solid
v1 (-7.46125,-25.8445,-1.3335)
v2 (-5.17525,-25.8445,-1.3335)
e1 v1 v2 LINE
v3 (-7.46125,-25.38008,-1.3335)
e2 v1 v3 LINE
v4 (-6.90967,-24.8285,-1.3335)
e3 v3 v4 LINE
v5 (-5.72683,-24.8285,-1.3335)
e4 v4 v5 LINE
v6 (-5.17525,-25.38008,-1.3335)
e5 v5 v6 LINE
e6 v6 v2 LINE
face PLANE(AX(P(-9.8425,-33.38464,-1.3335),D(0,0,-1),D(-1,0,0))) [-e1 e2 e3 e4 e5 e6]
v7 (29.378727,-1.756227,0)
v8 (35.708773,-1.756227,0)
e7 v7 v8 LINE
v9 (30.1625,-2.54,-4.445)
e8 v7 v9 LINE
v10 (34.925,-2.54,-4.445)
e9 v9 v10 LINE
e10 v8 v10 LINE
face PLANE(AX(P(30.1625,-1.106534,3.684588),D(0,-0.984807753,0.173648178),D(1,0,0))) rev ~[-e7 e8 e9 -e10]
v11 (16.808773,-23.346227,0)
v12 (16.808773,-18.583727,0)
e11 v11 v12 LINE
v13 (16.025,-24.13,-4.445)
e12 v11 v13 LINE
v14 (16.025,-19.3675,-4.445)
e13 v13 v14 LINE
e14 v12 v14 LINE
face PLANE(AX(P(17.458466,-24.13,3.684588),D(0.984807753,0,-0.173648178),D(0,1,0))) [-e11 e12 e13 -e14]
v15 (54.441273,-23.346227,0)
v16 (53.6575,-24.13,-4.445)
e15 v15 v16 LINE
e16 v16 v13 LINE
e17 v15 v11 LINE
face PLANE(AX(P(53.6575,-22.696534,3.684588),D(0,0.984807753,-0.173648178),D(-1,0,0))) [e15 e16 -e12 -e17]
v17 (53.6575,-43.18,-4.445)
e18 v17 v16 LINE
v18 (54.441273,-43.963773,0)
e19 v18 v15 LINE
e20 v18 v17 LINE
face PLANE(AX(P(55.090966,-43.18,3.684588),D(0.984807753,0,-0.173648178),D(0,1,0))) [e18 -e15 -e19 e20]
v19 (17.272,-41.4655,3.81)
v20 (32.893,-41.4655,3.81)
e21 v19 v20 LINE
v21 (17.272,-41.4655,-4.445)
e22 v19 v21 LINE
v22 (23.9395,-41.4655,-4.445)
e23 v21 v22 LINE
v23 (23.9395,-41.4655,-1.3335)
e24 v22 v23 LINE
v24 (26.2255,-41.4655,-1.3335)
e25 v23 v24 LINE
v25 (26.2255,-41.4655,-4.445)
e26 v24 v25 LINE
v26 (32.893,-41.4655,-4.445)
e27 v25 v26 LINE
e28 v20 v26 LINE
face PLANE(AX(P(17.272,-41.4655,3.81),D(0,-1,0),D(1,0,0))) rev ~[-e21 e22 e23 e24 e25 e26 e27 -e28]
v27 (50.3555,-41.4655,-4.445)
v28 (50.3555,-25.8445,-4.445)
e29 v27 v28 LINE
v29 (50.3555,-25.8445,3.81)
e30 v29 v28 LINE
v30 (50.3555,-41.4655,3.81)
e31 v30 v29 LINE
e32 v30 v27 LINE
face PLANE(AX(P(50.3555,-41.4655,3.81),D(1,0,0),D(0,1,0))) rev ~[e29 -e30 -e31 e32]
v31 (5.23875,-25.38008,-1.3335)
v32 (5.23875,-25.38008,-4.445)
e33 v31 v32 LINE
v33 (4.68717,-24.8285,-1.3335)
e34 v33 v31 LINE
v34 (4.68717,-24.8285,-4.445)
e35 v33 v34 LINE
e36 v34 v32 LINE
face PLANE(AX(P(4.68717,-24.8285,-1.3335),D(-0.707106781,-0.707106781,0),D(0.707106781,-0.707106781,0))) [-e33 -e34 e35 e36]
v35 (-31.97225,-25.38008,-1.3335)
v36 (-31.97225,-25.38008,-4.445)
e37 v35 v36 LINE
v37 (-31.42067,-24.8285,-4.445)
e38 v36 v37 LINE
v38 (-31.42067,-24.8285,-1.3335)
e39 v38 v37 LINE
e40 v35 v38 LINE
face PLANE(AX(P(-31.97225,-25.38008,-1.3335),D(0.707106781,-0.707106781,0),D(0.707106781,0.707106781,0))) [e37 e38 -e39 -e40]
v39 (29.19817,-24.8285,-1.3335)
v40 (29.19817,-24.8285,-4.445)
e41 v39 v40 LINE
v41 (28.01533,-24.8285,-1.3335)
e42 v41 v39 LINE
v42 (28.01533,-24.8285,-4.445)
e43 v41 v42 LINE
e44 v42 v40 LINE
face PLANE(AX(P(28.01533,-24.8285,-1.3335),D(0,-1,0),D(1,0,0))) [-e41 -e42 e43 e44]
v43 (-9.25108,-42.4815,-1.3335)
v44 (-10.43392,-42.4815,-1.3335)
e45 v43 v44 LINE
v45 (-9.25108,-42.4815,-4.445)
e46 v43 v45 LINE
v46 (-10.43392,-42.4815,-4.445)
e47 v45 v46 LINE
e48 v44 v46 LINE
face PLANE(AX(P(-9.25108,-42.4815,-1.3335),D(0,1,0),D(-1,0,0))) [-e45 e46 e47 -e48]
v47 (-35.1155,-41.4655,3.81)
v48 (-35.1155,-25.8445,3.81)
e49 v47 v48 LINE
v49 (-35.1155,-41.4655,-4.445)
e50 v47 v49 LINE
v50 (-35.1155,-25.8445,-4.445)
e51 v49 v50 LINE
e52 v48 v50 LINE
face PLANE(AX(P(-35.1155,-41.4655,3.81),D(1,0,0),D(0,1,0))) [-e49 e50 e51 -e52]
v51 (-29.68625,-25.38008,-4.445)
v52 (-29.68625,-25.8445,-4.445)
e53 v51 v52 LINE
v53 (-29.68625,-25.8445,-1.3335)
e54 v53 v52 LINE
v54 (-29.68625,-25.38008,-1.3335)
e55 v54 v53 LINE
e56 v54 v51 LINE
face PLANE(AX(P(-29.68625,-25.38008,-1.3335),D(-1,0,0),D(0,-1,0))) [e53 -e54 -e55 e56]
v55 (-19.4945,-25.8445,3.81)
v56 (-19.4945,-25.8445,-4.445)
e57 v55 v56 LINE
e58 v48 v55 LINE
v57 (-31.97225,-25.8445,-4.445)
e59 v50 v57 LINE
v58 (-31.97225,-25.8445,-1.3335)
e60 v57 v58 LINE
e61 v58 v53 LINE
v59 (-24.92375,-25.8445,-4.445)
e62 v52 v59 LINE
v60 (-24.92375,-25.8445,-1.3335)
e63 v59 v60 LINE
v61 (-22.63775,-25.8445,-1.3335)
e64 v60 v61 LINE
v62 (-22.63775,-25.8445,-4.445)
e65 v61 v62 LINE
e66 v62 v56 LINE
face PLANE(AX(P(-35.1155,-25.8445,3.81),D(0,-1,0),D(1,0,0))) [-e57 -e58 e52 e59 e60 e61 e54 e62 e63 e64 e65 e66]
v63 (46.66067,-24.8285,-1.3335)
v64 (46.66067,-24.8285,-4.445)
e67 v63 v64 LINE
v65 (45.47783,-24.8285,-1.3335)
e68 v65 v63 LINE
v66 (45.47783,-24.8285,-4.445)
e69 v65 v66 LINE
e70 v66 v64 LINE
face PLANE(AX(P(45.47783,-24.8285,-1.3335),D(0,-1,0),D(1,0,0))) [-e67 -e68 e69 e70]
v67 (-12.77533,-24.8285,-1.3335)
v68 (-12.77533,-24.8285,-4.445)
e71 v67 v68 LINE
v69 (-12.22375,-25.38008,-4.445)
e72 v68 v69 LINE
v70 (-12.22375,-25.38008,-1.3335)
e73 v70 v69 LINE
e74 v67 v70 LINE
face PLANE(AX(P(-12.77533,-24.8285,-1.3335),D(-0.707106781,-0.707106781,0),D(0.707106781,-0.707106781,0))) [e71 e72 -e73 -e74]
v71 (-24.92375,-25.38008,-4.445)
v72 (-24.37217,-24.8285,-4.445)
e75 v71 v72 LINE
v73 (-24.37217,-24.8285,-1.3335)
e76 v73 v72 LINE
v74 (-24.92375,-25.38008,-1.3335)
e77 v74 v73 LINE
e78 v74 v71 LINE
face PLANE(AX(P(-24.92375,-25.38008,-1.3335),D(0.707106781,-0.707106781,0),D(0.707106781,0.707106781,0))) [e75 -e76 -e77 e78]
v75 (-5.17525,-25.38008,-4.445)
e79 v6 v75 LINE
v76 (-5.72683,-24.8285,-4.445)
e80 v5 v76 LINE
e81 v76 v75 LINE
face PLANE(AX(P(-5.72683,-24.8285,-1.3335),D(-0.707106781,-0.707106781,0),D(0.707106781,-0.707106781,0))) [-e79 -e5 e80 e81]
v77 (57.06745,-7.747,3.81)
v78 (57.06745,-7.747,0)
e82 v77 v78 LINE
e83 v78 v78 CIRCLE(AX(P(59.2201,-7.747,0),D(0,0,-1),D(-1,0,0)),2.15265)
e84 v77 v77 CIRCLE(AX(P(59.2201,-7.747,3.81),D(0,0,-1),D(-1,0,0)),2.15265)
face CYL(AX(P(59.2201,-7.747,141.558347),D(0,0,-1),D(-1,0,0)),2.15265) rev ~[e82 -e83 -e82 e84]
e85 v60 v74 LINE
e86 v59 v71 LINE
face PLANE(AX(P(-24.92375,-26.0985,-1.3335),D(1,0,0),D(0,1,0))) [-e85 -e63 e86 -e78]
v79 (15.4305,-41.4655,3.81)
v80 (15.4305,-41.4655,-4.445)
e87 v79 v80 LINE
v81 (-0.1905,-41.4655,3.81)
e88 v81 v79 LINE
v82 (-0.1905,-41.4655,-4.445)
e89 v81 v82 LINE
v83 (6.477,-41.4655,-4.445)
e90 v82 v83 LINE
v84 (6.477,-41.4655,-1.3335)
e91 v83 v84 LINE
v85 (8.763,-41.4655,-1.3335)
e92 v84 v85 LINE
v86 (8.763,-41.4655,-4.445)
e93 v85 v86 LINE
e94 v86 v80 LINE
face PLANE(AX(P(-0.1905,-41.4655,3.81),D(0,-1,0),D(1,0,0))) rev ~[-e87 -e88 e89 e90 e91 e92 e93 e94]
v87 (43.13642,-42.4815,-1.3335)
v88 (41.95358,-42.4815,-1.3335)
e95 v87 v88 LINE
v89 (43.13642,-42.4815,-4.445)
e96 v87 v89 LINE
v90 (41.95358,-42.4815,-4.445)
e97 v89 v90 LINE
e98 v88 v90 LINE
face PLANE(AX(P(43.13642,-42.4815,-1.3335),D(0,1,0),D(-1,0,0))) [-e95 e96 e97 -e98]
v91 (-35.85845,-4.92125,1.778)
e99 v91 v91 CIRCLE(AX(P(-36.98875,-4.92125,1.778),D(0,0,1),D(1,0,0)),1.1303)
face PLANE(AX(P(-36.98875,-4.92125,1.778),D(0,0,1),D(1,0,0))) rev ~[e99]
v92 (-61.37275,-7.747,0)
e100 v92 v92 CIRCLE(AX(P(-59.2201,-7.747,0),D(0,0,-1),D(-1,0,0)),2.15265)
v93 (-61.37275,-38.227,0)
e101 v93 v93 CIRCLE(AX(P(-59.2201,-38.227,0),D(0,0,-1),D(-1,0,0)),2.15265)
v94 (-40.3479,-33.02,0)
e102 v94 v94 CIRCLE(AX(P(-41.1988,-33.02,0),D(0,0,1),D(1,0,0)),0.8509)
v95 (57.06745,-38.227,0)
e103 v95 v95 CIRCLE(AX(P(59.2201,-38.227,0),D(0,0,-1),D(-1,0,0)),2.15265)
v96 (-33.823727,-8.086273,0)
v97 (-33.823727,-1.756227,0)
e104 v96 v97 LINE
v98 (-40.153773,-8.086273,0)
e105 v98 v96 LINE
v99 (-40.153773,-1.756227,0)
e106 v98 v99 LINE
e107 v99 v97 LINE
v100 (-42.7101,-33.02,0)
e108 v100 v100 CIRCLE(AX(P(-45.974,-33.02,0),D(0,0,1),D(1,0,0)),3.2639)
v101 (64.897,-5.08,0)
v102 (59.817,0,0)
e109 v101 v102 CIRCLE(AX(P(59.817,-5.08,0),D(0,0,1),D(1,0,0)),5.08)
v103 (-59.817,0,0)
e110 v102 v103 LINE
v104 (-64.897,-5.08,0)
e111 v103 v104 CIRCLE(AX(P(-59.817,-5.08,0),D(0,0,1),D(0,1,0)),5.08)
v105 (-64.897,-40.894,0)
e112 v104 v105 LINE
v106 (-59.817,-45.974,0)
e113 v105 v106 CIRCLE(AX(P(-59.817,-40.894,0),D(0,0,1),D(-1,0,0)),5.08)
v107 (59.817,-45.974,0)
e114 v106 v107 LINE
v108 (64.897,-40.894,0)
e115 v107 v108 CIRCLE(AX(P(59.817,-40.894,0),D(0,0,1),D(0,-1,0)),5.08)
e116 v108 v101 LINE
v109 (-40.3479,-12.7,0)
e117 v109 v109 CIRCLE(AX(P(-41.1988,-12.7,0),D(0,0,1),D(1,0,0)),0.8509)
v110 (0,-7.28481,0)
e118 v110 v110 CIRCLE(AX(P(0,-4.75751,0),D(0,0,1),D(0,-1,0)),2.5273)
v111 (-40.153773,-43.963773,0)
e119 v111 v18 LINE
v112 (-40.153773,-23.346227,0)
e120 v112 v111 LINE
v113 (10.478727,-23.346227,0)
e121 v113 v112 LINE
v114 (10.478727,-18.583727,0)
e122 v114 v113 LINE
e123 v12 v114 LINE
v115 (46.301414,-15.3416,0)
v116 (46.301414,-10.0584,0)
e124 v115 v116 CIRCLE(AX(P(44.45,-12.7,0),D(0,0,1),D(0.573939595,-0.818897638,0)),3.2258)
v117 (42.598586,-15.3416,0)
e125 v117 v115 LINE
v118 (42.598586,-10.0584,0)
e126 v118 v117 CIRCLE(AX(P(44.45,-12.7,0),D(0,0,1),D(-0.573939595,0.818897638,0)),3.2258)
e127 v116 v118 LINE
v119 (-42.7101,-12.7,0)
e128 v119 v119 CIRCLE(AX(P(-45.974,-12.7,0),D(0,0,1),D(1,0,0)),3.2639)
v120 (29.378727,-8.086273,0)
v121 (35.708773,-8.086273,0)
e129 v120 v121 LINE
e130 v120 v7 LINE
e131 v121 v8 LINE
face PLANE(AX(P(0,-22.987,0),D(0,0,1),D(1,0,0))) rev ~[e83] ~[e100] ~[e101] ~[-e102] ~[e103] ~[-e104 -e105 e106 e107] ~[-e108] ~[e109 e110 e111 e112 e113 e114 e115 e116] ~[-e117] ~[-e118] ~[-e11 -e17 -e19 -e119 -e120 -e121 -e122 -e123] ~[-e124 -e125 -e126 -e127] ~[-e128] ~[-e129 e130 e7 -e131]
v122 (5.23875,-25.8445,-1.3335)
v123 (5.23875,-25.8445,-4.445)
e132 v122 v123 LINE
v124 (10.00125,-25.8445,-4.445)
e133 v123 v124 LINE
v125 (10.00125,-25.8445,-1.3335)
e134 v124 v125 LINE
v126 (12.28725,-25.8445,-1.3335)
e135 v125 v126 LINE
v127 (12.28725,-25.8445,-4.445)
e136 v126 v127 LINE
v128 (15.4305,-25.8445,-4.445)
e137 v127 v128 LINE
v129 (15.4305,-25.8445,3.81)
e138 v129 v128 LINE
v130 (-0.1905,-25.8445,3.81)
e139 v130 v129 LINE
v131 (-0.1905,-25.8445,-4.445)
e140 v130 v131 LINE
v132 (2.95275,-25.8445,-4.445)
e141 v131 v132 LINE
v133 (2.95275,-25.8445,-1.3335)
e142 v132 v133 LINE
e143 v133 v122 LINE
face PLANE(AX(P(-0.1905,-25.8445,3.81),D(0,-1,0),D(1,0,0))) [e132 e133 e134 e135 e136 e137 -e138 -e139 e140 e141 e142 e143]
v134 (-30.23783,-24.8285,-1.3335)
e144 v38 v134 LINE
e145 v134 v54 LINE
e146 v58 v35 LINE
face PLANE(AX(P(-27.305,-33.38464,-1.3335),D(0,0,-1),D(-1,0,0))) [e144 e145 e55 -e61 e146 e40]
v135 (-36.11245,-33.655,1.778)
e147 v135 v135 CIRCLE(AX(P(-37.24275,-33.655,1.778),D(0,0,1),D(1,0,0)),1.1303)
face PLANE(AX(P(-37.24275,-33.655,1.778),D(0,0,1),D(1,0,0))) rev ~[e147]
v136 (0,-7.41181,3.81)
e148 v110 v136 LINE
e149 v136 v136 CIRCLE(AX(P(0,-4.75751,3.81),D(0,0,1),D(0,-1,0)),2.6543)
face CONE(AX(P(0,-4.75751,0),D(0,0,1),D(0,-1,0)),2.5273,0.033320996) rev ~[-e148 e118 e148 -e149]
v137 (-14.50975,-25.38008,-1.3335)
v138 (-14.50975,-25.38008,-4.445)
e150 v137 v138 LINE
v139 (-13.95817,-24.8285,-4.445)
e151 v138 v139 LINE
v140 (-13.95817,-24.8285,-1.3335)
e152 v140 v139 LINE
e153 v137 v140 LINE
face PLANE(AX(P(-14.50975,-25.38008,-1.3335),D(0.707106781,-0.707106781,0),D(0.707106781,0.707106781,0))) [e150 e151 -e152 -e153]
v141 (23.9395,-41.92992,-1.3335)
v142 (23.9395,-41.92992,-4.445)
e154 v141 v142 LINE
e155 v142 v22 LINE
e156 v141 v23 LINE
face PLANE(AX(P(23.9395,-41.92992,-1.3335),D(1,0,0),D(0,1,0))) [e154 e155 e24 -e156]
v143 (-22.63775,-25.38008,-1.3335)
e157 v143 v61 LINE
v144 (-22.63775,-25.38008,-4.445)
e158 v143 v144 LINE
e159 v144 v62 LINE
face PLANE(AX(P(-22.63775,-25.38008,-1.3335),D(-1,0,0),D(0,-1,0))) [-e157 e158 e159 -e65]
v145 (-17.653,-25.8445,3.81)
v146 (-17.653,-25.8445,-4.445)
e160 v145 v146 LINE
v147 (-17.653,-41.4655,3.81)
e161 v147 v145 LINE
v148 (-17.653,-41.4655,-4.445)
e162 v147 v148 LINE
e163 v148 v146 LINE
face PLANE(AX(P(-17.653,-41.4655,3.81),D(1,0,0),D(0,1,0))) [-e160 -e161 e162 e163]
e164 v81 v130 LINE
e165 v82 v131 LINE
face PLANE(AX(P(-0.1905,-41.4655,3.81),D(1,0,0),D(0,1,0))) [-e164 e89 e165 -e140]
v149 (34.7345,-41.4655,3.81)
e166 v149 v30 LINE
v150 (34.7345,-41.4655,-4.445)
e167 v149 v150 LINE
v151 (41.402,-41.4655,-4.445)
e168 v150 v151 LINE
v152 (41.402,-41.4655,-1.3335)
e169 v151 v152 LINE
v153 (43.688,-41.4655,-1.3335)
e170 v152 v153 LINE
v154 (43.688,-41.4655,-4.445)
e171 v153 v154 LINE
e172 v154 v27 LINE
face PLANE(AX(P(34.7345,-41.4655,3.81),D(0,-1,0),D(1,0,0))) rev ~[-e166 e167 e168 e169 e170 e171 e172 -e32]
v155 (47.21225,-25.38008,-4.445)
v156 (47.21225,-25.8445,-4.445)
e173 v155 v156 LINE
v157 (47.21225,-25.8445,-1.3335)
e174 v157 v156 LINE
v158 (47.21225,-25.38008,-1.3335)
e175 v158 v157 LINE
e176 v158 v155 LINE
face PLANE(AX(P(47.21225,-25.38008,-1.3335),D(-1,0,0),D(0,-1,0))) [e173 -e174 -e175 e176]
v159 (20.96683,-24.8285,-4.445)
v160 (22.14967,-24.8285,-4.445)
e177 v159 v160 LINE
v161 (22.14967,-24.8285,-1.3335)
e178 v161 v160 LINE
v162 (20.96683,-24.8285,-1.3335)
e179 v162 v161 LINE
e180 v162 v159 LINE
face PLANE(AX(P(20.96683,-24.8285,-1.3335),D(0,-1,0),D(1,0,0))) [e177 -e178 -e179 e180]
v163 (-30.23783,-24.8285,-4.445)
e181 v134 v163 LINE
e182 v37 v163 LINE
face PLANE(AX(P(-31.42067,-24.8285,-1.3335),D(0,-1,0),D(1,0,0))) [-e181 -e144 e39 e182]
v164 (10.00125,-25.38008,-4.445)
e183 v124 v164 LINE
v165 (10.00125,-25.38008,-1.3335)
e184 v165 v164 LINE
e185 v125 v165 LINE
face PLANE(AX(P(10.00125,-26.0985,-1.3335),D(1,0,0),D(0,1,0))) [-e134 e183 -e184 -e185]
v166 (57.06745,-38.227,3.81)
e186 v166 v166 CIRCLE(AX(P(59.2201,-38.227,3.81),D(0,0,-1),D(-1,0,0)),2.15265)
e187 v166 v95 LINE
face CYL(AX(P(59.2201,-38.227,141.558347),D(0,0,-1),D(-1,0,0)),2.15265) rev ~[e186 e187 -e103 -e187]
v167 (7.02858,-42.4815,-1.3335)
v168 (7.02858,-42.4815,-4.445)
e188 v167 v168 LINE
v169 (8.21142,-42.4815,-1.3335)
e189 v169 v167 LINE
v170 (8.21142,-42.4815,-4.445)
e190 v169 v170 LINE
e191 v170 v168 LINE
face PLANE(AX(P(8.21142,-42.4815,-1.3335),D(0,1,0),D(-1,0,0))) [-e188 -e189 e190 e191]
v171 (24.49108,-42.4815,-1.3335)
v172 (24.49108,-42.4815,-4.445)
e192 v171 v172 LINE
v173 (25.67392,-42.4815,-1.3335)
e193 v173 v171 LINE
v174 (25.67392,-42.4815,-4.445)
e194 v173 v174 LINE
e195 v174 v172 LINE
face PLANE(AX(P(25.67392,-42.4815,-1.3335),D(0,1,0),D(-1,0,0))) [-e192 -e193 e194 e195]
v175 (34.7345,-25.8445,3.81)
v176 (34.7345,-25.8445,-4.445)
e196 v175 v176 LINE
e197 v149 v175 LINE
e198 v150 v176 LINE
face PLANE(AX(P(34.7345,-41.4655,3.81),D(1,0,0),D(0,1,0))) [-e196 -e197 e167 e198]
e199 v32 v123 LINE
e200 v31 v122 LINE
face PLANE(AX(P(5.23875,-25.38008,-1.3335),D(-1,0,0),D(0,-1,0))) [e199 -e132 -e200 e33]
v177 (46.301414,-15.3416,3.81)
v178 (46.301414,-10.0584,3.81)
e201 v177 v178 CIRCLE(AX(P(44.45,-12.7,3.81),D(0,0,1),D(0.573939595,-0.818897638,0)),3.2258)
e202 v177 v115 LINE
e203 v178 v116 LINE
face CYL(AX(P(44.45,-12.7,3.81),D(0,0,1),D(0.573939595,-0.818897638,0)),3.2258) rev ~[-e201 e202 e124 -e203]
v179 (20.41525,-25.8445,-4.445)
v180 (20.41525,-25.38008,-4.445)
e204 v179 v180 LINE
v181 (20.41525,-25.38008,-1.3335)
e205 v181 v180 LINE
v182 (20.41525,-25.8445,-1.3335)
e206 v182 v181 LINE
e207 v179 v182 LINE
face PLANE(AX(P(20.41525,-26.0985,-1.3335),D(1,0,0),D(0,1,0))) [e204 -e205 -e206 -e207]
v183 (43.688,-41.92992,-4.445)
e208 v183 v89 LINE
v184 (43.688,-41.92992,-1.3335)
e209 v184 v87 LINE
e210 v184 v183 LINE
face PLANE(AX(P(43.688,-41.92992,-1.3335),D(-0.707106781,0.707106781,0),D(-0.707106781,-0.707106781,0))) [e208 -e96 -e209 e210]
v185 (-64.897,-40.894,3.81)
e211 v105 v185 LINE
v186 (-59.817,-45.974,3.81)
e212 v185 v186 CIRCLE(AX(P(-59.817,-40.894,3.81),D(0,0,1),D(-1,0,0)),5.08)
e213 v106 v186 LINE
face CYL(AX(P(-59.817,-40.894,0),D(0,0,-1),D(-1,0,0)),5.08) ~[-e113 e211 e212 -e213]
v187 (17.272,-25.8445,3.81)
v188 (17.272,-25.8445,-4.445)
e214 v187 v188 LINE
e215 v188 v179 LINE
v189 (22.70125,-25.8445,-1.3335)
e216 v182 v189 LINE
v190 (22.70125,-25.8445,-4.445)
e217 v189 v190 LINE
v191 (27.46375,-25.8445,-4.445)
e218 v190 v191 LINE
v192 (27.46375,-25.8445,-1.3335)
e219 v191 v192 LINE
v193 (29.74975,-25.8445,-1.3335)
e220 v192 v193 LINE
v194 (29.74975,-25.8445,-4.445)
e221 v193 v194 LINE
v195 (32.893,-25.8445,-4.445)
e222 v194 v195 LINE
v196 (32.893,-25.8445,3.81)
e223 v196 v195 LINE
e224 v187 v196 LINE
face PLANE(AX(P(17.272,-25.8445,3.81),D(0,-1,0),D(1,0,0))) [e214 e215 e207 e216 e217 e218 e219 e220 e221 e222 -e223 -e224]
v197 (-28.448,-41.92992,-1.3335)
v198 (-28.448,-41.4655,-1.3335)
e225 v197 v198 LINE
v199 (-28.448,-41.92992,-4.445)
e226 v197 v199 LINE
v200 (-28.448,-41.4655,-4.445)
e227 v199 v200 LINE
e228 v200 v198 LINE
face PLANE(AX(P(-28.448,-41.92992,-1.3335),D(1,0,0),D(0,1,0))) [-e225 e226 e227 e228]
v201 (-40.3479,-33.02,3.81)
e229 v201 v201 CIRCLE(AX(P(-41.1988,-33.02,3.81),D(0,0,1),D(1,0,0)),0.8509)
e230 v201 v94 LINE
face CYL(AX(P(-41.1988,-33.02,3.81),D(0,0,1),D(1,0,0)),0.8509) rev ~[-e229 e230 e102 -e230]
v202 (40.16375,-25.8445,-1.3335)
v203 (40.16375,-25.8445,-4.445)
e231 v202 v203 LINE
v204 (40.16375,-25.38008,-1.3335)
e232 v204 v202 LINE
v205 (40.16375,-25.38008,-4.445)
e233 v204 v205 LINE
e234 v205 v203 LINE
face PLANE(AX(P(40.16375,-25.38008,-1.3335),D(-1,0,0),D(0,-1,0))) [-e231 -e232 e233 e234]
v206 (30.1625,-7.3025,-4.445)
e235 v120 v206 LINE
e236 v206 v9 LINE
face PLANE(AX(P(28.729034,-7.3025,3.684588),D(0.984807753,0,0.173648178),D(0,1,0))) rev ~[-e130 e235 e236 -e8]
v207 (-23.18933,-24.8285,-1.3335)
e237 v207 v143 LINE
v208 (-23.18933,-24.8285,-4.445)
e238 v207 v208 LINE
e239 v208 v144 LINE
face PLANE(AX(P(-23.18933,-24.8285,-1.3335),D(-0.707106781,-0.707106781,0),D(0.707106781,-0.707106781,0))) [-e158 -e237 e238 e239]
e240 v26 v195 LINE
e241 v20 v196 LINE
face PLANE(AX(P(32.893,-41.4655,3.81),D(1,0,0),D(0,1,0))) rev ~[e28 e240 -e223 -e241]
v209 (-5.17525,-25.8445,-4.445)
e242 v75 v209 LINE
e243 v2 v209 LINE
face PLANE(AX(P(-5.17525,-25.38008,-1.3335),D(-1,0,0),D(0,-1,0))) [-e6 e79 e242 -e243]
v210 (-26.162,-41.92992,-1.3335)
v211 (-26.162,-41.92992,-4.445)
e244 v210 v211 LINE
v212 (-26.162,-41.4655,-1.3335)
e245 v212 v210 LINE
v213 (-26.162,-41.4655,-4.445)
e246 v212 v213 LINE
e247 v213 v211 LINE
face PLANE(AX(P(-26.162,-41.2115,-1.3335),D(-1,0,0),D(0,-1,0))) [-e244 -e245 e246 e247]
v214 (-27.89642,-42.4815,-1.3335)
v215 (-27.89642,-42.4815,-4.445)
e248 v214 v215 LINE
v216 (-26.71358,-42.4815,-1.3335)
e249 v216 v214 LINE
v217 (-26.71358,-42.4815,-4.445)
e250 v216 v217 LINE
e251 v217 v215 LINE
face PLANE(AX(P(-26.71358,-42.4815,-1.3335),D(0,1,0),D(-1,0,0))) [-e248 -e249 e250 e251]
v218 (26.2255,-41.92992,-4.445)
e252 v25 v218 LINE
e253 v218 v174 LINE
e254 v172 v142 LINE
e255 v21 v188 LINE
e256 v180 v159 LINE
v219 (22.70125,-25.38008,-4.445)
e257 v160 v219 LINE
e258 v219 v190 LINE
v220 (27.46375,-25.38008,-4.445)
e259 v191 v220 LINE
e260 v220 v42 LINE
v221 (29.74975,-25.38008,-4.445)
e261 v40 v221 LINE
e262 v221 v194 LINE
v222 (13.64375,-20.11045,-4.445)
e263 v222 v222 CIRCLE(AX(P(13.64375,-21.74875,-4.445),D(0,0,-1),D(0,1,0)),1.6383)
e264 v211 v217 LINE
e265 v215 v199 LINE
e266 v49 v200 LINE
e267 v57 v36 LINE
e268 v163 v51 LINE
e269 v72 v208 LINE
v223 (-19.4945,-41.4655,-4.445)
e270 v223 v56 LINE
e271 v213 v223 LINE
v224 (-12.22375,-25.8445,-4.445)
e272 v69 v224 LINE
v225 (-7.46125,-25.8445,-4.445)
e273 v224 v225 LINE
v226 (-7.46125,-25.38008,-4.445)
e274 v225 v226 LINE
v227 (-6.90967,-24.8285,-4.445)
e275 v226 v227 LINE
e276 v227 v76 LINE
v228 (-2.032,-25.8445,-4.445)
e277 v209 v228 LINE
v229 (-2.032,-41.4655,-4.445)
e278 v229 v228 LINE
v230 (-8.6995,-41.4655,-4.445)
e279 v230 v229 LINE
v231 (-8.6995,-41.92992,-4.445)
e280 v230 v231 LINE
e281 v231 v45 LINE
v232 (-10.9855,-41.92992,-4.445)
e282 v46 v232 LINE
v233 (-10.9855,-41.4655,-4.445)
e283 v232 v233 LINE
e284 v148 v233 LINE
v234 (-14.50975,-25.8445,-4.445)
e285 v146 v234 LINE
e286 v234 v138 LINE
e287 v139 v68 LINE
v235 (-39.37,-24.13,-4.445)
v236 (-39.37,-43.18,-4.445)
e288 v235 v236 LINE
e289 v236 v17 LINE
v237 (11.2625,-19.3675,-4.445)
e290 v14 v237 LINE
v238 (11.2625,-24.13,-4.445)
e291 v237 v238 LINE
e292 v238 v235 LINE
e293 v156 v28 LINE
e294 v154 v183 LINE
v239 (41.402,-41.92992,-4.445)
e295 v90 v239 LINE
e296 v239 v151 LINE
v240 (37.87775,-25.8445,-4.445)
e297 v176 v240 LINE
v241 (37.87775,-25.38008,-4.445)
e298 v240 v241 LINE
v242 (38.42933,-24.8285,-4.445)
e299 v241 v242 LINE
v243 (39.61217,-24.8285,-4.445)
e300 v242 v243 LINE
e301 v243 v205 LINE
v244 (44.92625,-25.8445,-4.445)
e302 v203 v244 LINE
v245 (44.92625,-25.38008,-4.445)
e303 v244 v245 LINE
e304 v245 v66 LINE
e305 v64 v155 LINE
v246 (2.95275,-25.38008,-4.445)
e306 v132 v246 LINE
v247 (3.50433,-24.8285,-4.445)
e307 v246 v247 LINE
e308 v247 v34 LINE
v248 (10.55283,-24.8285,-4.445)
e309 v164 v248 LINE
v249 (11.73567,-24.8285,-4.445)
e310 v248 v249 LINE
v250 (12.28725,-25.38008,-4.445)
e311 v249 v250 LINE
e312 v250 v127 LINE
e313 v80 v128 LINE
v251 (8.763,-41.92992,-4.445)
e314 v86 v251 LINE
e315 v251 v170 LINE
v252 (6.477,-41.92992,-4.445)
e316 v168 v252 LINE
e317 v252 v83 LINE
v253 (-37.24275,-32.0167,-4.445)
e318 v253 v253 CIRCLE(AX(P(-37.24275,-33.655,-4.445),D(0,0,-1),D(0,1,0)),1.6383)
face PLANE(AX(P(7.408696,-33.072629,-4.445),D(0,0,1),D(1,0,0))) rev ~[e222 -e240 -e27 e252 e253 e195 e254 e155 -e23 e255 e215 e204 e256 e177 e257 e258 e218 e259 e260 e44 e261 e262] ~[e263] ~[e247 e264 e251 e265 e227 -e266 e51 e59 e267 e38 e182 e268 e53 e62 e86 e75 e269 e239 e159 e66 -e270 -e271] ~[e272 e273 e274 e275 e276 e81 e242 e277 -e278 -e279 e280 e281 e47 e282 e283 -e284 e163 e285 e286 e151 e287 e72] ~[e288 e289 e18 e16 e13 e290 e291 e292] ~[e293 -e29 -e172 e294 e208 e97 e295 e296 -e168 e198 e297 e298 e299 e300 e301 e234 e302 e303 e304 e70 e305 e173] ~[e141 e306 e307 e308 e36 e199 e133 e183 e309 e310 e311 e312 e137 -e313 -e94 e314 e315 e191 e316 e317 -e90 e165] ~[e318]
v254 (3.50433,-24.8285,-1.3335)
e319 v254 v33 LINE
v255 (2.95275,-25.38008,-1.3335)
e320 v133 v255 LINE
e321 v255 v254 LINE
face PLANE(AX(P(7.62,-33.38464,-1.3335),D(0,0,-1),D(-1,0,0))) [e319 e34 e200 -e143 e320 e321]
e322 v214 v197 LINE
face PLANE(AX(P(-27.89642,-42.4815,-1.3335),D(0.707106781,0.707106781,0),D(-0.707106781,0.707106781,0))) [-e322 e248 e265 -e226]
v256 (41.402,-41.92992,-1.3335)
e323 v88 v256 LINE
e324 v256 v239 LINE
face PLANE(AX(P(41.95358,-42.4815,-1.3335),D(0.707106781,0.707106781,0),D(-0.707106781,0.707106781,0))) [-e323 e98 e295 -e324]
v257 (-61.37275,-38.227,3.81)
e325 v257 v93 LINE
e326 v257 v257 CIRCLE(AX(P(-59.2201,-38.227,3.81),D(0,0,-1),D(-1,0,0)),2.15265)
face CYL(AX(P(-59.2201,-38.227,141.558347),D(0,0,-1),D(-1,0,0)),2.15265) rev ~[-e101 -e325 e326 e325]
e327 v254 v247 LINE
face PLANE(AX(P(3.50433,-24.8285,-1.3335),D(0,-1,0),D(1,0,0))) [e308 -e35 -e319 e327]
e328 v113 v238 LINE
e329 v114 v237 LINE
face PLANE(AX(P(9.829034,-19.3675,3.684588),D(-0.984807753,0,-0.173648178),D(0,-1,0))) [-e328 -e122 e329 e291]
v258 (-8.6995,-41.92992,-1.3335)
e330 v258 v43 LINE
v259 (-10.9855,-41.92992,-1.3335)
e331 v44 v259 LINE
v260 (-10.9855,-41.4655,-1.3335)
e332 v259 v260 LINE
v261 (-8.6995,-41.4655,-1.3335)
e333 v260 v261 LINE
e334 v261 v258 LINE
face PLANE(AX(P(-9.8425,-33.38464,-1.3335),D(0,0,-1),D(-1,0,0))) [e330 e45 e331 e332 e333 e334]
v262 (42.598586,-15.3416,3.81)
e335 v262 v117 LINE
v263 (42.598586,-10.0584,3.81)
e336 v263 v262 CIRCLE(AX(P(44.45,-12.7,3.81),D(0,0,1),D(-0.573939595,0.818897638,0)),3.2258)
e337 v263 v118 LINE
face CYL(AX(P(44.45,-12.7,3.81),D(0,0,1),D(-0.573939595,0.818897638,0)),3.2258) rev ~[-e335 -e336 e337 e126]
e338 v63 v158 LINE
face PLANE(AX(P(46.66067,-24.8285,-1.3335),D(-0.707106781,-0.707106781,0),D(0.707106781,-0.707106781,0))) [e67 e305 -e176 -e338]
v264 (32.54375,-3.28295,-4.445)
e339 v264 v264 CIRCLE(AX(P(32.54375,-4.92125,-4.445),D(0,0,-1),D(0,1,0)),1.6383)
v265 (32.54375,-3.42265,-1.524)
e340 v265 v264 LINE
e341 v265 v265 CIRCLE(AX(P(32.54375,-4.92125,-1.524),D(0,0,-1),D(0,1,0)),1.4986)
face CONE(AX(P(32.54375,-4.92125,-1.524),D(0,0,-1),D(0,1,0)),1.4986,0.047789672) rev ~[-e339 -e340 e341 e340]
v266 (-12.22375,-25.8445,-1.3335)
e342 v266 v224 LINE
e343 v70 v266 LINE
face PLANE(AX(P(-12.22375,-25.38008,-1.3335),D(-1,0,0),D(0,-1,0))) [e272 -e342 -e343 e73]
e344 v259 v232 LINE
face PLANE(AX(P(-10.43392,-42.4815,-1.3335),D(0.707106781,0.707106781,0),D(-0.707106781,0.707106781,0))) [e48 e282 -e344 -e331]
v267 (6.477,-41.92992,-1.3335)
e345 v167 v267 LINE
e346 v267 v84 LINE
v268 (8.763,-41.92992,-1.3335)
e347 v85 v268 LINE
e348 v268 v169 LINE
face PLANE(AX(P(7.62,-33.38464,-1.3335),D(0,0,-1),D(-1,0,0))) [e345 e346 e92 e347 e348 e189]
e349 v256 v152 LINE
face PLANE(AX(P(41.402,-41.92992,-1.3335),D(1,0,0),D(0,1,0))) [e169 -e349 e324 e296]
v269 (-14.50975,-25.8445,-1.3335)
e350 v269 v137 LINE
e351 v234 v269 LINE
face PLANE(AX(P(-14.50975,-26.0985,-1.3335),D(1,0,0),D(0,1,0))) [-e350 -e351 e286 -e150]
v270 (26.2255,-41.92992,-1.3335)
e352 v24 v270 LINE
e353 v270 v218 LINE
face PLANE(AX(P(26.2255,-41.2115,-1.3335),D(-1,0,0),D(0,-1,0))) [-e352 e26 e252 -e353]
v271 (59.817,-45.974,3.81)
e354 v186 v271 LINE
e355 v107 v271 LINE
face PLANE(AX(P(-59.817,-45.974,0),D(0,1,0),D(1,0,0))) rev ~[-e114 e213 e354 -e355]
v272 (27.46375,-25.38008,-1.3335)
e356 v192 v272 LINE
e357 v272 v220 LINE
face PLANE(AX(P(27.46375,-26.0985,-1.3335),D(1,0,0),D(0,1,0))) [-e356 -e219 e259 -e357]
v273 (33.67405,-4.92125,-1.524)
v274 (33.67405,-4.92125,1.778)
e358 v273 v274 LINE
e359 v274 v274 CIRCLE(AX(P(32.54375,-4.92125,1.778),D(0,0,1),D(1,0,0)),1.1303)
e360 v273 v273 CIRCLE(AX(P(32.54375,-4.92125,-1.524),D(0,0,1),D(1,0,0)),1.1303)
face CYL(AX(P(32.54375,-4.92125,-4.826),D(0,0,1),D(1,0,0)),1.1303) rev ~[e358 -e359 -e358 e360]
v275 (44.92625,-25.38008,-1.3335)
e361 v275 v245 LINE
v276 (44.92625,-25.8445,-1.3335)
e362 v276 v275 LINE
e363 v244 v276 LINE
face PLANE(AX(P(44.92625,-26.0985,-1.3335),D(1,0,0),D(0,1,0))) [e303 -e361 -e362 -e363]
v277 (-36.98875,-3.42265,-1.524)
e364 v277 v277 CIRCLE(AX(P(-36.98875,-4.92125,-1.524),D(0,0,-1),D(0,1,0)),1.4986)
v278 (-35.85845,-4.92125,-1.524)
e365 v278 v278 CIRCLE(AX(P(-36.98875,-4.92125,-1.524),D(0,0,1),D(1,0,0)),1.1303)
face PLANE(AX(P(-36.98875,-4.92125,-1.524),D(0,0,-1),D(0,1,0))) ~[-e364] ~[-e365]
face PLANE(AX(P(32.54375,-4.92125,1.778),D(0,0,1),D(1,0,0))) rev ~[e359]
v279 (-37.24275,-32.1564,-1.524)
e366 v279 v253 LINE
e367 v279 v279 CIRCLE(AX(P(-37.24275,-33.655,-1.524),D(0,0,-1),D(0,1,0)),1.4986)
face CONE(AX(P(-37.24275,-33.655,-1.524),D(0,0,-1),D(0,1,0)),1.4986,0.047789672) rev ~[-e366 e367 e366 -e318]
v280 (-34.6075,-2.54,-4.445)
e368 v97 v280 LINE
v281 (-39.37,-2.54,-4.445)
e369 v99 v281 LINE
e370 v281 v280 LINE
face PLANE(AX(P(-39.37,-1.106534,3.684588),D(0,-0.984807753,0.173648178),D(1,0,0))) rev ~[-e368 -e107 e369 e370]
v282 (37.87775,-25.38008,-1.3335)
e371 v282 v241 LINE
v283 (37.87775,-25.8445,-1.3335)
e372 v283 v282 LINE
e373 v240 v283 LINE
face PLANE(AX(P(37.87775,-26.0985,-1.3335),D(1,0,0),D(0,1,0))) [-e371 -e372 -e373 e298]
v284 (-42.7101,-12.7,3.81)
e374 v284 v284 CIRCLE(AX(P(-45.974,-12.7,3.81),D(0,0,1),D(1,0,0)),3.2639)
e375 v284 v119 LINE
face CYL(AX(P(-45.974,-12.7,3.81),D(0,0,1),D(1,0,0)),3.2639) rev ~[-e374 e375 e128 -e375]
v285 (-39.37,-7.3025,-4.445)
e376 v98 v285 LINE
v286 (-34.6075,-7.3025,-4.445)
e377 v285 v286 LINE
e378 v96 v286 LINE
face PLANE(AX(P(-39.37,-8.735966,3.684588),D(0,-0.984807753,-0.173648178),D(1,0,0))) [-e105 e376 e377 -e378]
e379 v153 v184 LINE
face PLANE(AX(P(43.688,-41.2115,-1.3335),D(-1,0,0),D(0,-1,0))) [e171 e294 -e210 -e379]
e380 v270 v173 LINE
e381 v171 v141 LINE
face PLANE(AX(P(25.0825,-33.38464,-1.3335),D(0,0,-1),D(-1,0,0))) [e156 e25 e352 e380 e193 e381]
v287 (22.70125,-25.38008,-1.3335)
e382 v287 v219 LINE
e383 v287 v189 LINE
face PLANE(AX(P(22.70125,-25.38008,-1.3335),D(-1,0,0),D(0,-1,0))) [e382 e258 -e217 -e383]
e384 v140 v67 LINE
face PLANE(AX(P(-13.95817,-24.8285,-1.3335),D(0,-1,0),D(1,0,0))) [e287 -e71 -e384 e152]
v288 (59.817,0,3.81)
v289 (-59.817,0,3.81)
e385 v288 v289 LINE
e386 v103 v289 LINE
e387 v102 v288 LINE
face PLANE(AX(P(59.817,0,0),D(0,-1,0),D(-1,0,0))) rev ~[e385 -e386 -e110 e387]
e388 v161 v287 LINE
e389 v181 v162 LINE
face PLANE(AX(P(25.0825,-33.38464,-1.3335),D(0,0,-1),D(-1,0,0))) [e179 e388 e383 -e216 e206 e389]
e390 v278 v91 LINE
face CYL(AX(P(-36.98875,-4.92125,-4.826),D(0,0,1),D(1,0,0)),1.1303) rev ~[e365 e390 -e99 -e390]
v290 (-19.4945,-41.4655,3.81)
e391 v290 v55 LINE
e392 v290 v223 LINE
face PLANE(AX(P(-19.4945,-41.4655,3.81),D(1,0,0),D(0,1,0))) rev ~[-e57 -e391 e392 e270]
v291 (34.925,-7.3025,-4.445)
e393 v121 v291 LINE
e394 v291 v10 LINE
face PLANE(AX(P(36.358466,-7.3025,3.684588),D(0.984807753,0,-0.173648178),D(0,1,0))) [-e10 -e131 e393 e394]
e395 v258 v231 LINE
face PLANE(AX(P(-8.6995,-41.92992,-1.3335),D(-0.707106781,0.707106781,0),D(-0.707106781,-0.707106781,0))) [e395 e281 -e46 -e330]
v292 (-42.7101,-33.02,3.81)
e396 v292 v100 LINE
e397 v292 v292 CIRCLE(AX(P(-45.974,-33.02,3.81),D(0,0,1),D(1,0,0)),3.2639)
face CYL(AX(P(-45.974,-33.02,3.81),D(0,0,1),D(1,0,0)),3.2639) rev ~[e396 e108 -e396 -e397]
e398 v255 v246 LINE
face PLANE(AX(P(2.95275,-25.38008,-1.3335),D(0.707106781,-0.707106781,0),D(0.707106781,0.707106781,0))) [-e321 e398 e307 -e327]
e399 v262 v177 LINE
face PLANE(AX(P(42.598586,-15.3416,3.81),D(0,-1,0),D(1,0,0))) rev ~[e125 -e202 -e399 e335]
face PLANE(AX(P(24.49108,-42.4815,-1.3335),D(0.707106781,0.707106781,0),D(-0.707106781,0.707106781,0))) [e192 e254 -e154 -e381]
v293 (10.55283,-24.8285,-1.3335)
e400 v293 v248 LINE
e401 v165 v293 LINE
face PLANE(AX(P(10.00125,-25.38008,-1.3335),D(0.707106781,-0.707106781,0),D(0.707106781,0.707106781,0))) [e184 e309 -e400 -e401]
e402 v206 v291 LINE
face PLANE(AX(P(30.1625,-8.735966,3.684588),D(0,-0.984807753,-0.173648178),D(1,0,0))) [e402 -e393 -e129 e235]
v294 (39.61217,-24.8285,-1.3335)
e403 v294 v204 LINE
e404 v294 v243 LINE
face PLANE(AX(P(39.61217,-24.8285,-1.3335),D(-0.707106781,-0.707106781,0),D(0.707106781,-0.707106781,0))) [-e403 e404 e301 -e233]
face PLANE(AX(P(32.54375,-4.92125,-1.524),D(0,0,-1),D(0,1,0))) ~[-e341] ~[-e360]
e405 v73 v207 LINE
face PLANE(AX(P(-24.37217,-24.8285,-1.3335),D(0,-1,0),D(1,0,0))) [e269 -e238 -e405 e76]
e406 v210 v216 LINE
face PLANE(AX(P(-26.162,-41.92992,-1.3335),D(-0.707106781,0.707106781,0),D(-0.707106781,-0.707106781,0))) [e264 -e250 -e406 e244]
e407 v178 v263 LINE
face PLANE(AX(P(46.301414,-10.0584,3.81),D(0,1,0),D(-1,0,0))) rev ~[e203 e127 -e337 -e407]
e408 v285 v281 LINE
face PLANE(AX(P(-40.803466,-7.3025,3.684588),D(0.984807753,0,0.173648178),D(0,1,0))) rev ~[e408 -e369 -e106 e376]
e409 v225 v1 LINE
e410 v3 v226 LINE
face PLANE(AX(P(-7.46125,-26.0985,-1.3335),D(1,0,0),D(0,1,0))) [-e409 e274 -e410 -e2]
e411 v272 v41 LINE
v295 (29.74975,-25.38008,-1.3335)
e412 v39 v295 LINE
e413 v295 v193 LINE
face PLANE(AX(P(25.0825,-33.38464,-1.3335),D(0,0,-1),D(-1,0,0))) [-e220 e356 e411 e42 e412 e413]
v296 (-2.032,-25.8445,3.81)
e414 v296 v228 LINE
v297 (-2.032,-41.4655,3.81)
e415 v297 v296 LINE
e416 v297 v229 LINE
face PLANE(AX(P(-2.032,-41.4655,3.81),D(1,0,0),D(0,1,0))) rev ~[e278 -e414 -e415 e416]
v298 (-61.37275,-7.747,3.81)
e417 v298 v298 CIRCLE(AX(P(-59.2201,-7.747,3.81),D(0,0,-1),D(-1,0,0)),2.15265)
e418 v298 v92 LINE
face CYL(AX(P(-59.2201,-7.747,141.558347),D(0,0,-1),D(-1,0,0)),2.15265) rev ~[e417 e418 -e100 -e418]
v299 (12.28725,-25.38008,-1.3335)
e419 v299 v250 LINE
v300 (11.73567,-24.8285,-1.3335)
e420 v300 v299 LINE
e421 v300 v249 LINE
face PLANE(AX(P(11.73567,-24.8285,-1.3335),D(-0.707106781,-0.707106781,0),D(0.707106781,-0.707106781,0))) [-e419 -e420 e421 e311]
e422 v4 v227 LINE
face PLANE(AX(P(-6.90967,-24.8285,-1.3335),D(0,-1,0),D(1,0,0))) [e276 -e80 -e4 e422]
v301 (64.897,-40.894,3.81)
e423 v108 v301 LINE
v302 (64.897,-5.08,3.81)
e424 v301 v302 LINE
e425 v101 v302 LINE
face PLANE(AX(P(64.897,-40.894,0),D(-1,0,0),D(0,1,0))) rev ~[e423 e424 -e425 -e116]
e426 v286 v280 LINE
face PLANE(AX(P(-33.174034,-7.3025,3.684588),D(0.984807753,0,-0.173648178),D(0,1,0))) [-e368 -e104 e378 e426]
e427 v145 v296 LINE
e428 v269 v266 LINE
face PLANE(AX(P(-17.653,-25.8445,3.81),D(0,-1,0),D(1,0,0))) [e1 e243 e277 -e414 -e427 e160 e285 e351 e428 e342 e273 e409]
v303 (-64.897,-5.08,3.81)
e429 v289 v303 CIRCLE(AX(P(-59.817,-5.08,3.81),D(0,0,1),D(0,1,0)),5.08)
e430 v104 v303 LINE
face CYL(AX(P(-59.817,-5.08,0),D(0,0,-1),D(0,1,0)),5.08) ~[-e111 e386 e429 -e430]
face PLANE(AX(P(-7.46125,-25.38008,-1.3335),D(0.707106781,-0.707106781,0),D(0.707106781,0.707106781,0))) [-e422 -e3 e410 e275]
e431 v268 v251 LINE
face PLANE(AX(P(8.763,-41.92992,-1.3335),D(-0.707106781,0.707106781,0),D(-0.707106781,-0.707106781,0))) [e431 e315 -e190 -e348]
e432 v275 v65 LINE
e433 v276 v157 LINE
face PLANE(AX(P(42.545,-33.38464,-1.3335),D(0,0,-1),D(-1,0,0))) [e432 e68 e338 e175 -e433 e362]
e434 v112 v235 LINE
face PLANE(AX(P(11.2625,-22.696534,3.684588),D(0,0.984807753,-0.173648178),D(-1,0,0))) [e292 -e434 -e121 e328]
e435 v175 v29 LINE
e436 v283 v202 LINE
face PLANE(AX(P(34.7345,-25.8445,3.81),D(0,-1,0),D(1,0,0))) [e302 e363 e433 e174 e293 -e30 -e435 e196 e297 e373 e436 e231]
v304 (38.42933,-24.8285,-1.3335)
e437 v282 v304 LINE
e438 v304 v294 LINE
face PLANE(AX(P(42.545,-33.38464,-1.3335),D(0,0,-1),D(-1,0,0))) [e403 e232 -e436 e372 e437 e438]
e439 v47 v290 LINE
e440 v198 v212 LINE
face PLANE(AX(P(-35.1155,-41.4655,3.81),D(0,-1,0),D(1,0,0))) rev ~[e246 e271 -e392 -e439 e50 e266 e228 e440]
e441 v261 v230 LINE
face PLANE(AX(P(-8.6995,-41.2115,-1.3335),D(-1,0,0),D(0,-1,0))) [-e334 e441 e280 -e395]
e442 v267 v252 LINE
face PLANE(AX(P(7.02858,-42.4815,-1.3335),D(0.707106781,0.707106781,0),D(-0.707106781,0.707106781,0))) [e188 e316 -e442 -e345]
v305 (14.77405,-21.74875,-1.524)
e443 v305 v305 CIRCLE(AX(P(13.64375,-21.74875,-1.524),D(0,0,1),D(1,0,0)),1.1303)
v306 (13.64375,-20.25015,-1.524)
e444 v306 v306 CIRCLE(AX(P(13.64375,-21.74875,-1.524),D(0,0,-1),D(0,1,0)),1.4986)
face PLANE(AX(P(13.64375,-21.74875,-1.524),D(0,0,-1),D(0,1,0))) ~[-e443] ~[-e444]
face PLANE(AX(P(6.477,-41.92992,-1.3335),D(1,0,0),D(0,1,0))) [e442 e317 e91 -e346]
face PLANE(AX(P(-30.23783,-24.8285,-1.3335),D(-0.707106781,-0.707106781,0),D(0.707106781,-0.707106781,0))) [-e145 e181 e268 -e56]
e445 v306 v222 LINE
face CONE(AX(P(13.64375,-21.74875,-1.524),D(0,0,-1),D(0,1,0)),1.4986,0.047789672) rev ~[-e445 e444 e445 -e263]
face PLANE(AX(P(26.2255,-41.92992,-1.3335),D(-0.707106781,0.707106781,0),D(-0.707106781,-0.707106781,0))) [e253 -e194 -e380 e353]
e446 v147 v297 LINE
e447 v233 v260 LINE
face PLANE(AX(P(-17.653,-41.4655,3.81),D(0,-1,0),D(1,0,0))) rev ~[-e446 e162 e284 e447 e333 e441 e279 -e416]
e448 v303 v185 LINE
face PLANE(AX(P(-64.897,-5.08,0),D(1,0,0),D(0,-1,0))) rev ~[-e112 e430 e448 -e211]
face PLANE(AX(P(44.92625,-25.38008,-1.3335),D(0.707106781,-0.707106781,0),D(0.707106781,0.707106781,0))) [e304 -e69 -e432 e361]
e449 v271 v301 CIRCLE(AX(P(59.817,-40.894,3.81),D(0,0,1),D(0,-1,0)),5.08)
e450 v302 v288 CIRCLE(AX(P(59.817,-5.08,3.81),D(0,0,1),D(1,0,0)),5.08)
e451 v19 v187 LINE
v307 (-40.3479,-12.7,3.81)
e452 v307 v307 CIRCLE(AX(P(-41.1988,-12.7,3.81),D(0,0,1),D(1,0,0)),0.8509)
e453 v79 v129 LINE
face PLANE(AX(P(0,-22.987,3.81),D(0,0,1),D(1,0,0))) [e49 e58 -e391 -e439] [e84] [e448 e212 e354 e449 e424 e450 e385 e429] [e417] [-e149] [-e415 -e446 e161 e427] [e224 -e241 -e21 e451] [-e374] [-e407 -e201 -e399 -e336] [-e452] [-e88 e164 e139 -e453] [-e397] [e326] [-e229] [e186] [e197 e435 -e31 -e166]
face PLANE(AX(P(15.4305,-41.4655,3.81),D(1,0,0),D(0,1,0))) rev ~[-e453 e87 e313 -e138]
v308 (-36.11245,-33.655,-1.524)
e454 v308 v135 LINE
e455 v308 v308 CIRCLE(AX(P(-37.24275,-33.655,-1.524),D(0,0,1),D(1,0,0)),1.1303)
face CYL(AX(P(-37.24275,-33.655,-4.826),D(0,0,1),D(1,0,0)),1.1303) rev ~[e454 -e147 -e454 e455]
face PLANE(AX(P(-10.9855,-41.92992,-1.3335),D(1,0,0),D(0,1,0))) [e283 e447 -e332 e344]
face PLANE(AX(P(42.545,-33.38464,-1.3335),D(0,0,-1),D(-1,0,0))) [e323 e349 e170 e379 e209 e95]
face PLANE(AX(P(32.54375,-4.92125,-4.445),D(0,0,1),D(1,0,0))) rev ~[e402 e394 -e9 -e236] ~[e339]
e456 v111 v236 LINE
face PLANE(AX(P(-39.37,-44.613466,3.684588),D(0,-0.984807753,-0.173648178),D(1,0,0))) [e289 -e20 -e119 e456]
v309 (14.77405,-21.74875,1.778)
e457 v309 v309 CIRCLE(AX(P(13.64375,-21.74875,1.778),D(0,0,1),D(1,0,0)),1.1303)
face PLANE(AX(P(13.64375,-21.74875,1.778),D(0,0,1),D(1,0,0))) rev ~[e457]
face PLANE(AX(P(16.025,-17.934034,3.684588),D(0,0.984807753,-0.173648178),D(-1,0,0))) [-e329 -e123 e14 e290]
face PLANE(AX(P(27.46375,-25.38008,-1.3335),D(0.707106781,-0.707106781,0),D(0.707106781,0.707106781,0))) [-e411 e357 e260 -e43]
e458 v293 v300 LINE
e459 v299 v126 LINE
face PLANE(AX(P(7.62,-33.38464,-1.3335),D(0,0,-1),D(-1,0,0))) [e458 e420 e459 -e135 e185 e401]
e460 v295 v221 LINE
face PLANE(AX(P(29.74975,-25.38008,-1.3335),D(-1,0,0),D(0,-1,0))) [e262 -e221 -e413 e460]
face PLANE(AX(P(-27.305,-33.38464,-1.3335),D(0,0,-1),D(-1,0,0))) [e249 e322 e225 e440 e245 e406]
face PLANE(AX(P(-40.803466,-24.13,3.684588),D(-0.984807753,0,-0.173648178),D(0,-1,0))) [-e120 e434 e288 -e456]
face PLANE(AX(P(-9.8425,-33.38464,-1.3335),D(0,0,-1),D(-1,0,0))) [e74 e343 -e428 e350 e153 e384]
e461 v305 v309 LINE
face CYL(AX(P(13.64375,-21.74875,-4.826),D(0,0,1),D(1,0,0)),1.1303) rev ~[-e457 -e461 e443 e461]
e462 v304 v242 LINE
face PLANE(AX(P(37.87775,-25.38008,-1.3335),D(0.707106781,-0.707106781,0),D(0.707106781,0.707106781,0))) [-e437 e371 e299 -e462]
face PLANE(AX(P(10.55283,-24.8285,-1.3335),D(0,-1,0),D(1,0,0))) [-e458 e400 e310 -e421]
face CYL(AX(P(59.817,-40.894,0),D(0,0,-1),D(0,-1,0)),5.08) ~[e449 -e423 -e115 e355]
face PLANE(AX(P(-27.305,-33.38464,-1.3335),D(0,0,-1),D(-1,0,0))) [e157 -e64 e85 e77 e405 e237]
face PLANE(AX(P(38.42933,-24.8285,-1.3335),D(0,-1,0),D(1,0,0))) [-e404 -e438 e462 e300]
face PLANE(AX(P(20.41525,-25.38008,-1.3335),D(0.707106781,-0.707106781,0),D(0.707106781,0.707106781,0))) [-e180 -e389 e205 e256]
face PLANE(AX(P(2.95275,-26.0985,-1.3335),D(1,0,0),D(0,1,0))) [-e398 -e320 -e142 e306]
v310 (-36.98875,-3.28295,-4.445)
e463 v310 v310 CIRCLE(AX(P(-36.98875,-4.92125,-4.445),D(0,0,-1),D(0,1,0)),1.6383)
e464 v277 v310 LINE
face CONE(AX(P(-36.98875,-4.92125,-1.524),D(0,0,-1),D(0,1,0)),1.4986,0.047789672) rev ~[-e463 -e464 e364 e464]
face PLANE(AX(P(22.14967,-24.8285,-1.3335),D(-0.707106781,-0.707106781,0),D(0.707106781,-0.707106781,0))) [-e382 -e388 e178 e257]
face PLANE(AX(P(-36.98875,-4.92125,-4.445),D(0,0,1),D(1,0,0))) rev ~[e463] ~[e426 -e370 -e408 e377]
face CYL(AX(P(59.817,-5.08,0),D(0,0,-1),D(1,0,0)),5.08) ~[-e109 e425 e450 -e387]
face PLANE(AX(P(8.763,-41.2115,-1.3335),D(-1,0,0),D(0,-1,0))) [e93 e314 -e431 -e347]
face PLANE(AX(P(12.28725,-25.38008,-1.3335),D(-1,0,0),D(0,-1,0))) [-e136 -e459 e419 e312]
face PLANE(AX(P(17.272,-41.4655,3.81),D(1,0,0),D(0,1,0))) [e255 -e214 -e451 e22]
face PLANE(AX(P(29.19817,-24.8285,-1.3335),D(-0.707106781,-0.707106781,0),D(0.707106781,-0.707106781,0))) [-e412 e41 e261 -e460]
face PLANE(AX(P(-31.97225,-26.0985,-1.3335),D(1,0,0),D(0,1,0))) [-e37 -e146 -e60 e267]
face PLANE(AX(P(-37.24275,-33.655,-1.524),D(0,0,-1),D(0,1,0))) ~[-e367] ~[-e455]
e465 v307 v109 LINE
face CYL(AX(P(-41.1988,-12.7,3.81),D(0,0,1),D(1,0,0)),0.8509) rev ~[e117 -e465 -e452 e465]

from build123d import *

# Parameters (mm, degrees)
BOSS_EXTRUDE1_DEPTH       = 3.81
CUT_EXTRUDE1_DEPTH        = 4.81
F_6_CLEARANCE_HOLE1_D     = 4.3053
CUT_EXTRUDE2_DEPTH        = 4.81
SKETCH9_R                 = 3.2639
SKETCH9_R_2               = 0.8509
CUT_EXTRUDE3_DEPTH        = 4.81
F_6_32_TAPPED_HOLE1_D     = 2.7051
SKETCH16_W                = 15.621
SKETCH16_H                = 15.621
SKETCH16_W_2              = 4.7625
SKETCH16_H_2              = 4.7625
BOSS_EXTRUDE2_DEPTH       = 8.255
CUT_EXTRUDE5_START        = -3.1115
CUT_EXTRUDE5_DEPTH        = 3.1115
HOLE1_AT_2_COUNT          = 2
HOLE1_AT_2_PITCH          = 25.305626968
HOLE1_AT_3_COUNT          = 2
HOLE1_AT_3_PITCH          = 75.470417856
HOLE1_AT_4_COUNT          = 2
HOLE1_AT_4_PITCH          = 69.5325
F_2_CLEARANCE_HOLE1_D     = 2.2606
F_2_CLEARANCE_HOLE1_DEPTH = 3.302
DRAFT1_ANGLE              = 10
DRAFT2_ANGLE              = 10
DRAFT3_ANGLE              = 10


with BuildPart() as part:
    # Sketch1 → Boss-Extrude1 (new body)
    with BuildSketch(Plane.XY):
        with BuildLine():
            Line((-59.817, -45.974), (59.817, -45.974))
            ThreePointArc((59.817, -45.974), (63.409102448, -44.486102448), (64.897, -40.894))
            Line((64.897, -40.894), (64.897, -5.08))
            ThreePointArc((64.897, -5.08), (63.409102448, -1.487897552), (59.817, 0))
            Line((59.817, 0), (-59.817, 0))
            ThreePointArc((-59.817, 0), (-63.409102448, -1.487897552), (-64.897, -5.08))
            Line((-64.897, -5.08), (-64.897, -40.894))
            ThreePointArc((-64.897, -40.894), (-63.409102448, -44.486102448), (-59.817, -45.974))
        make_face()
    extrude(amount=BOSS_EXTRUDE1_DEPTH)

    # Sketch5 → Cut-Extrude1 (cut, through all)
    with BuildSketch(Plane.XY.offset(3.81)):
        with BuildLine():
            Line((52.07, -41.91), (52.07, -25.4))
            ThreePointArc((52.07, -25.4), (51.698025612, -24.501974388), (50.8, -24.13))
            Line((50.8, -24.13), (-35.56, -24.13))
            ThreePointArc((-35.56, -24.13), (-36.458025612, -24.501974388), (-36.83, -25.4))
            Line((-36.83, -25.4), (-36.83, -41.91))
            ThreePointArc((-36.83, -41.91), (-36.458025612, -42.808025612), (-35.56, -43.18))
            Line((-35.56, -43.18), (50.8, -43.18))
            ThreePointArc((50.8, -43.18), (51.698025612, -42.808025612), (52.07, -41.91))
        make_face()
    extrude(amount=-CUT_EXTRUDE1_DEPTH, mode=Mode.SUBTRACT)

    # #6 Clearance Hole1 (through all)
    with Locations(Plane.XY.offset(3.81)):
        with Locations((59.2201, -7.747), (59.2201, -38.227), (-59.2201, -38.227), (-59.2201, -7.747)):
            Hole(F_6_CLEARANCE_HOLE1_D / 2)

    # Sketch8 → Cut-Extrude2 (cut, through all)
    with BuildSketch(Plane.XY.offset(3.81)):
        with BuildLine():
            Line((46.301414346, -10.0584), (44.45, -10.0584))
            Line((44.45, -10.0584), (44.45, -15.3416))
            Line((44.45, -15.3416), (46.301414346, -15.3416))
            ThreePointArc((46.301414346, -15.3416), (47.6758, -12.7), (46.301414346, -10.0584))
        make_face()
        with BuildLine():
            Line((44.45, -10.0584), (42.598585654, -10.0584))
            ThreePointArc((42.598585654, -10.0584), (41.2242, -12.7), (42.598585654, -15.3416))
            Line((42.598585654, -15.3416), (44.45, -15.3416))
            Line((44.45, -15.3416), (44.45, -10.0584))
        make_face()
    extrude(amount=-CUT_EXTRUDE2_DEPTH, mode=Mode.SUBTRACT)

    # Sketch9 → Cut-Extrude3 (cut, through all)
    with BuildSketch(Plane.XY.offset(3.81)):
        with Locations((-45.974, -33.02)):
            Circle(SKETCH9_R)
        with Locations((-41.1988, -33.02)):
            Circle(SKETCH9_R_2)
        with Locations((-45.974, -12.7)):
            Circle(SKETCH9_R)
        with Locations((-41.1988, -12.7)):
            Circle(SKETCH9_R_2)
    extrude(amount=-CUT_EXTRUDE3_DEPTH, mode=Mode.SUBTRACT)

    # #6-32 Tapped Hole1 (through all)
    with Locations(Plane.XY.offset(3.81)):
        with Locations((0, -4.757510223)):
            Hole(F_6_32_TAPPED_HOLE1_D / 2)

    # Sketch16 → Boss-Extrude2 (add)
    with BuildSketch(Plane.XY.offset(3.81)):
        Polygon((-39.37, -43.18), (53.6575, -43.18), (53.6575, -24.13), (16.025, -24.13), (16.025, -19.3675), (11.2625, -19.3675), (11.2625, -24.13), (-39.37, -24.13), align=None)
        with Locations((42.545, -33.655)):
            Rectangle(SKETCH16_W, SKETCH16_H, mode=Mode.SUBTRACT)
        with Locations((-9.8425, -33.655)):
            Rectangle(SKETCH16_W, SKETCH16_H, mode=Mode.SUBTRACT)
        with Locations((25.0825, -33.655)):
            Rectangle(SKETCH16_W, SKETCH16_H, mode=Mode.SUBTRACT)
        with Locations((7.62, -33.655)):
            Rectangle(SKETCH16_W, SKETCH16_H, mode=Mode.SUBTRACT)
        with Locations((-27.305, -33.655)):
            Rectangle(SKETCH16_W, SKETCH16_H, mode=Mode.SUBTRACT)
        with Locations((32.54375, -4.92125)):
            Rectangle(SKETCH16_W_2, SKETCH16_H_2)
        with Locations((-36.98875, -4.92125)):
            Rectangle(SKETCH16_W_2, SKETCH16_H_2)
    extrude(amount=-BOSS_EXTRUDE2_DEPTH)

    # Sketch17 → Cut-Extrude5 (cut)
    with BuildSketch(Plane(origin=(0, 0, -4.445), x_dir=(-1, 0, 0), z_dir=(0, 0, -1)).offset(CUT_EXTRUDE5_START)):
        Polygon((-37.87775, -26.0985), (-37.87775, -25.38007951), (-38.42932951, -24.8285), (-39.61217049, -24.8285), (-40.16375, -25.38007951), (-40.16375, -26.0985), (-44.92625, -26.0985), (-44.92625, -25.38007951), (-45.47782951, -24.8285), (-46.66067049, -24.8285), (-47.21225, -25.38007951), (-47.21225, -26.0985), (-50.1015, -26.0985), (-50.1015, -41.2115), (-43.688, -41.2115), (-43.688, -41.92992049), (-43.13642049, -42.4815), (-41.95357951, -42.4815), (-41.402, -41.92992049), (-41.402, -41.2115), (-34.9885, -41.2115), (-34.9885, -26.0985), align=None)
        Polygon((-20.41525, -26.0985), (-20.41525, -25.38007951), (-20.96682951, -24.8285), (-22.14967049, -24.8285), (-22.70125, -25.38007951), (-22.70125, -26.0985), (-27.46375, -26.0985), (-27.46375, -25.38007951), (-28.01532951, -24.8285), (-29.19817049, -24.8285), (-29.74975, -25.38007951), (-29.74975, -26.0985), (-32.639, -26.0985), (-32.639, -41.2115), (-26.2255, -41.2115), (-26.2255, -41.92992049), (-25.67392049, -42.4815), (-24.49107951, -42.4815), (-23.9395, -41.92992049), (-23.9395, -41.2115), (-17.526, -41.2115), (-17.526, -26.0985), align=None)
        Polygon((-2.95275, -26.0985), (-2.95275, -25.38007951), (-3.50432951, -24.8285), (-4.68717049, -24.8285), (-5.23875, -25.38007951), (-5.23875, -26.0985), (-10.00125, -26.0985), (-10.00125, -25.38007951), (-10.55282951, -24.8285), (-11.73567049, -24.8285), (-12.28725, -25.38007951), (-12.28725, -26.0985), (-15.1765, -26.0985), (-15.1765, -41.2115), (-8.763, -41.2115), (-8.763, -41.92992049), (-8.21142049, -42.4815), (-7.02857951, -42.4815), (-6.477, -41.92992049), (-6.477, -41.2115), (-0.0635, -41.2115), (-0.0635, -26.0985), align=None)
        Polygon((14.50975, -26.0985), (14.50975, -25.38007951), (13.95817049, -24.8285), (12.77532951, -24.8285), (12.22375, -25.38007951), (12.22375, -26.0985), (7.46125, -26.0985), (7.46125, -25.38007951), (6.90967049, -24.8285), (5.72682951, -24.8285), (5.17525, -25.38007951), (5.17525, -26.0985), (2.286, -26.0985), (2.286, -41.2115), (8.6995, -41.2115), (8.6995, -41.92992049), (9.25107951, -42.4815), (10.43392049, -42.4815), (10.9855, -41.92992049), (10.9855, -41.2115), (17.399, -41.2115), (17.399, -26.0985), align=None)
        Polygon((31.97225, -26.0985), (31.97225, -25.38007951), (31.42067049, -24.8285), (30.23782951, -24.8285), (29.68625, -25.38007951), (29.68625, -26.0985), (24.92375, -26.0985), (24.92375, -25.38007951), (24.37217049, -24.8285), (23.18932951, -24.8285), (22.63775, -25.38007951), (22.63775, -26.0985), (19.7485, -26.0985), (19.7485, -41.2115), (26.162, -41.2115), (26.162, -41.92992049), (26.71357951, -42.4815), (27.89642049, -42.4815), (28.448, -41.92992049), (28.448, -41.2115), (34.8615, -41.2115), (34.8615, -26.0985), align=None)
    extrude(amount=CUT_EXTRUDE5_DEPTH, mode=Mode.SUBTRACT)

    # Sketch19 → Hole1 (revolve, cut)
    with BuildSketch(Plane(origin=(32.54375, -4.92125, -4.445), x_dir=(0, 1, 0), z_dir=(1, 0, 0))):
        Polygon((0, 0), (0, 2.921), (1.4986, 2.921), (1.6383, 0), align=None)
    hole1 = revolve(axis=Axis((32.54375, -4.92125, 105.555), (0, 0, -1)), mode=Mode.SUBTRACT)

    # Hole1 at 2: Hole1 ×2
    with Locations(*[Vector(-0.746869462, -0.664970681, 0) * (i * HOLE1_AT_2_PITCH) for i in range(1, HOLE1_AT_2_COUNT)]):
        add(hole1, mode=Mode.SUBTRACT)

    # Hole1 at 3: Hole1 ×2
    with Locations(*[Vector(-0.924686811, -0.380728646, 0) * (i * HOLE1_AT_3_PITCH) for i in range(1, HOLE1_AT_3_COUNT)]):
        add(hole1, mode=Mode.SUBTRACT)

    # Hole1 at 4: Hole1 ×2
    with Locations(*[(-i * HOLE1_AT_4_PITCH, 0, 0) for i in range(1, HOLE1_AT_4_COUNT)]):
        add(hole1, mode=Mode.SUBTRACT)

    # Sketch21 → Hole2 (revolve, cut)
    with BuildSketch(Plane(origin=(0, -4.757510223, 3.81), x_dir=(0, -1, 0), z_dir=(1, 0, 0))):
        Polygon((0, 0), (0, 3.81), (2.5273, 3.81), (2.6543, 0), align=None)
    revolve(axis=Axis((0, -4.757510223, -106.19), (0, 0, 1)), mode=Mode.SUBTRACT)

    # #2 Clearance Hole1
    with Locations(Plane(origin=(0, 0, -1.524), x_dir=(-1, 0, 0), z_dir=(0, 0, -1))):
        with Locations((37.24275, -33.655), (36.98875, -4.92125), (-13.64375, -21.74875), (-32.54375, -4.92125)):
            Hole(F_2_CLEARANCE_HOLE1_D / 2, depth=F_2_CLEARANCE_HOLE1_DEPTH)

    # Draft1
    draft1_faces = [part.faces().sort_by_distance(p)[0] for p in [
        (53.6575, -33.655, -2.2225),
        (34.84125, -24.13, -2.2225),
        (-39.37, -33.655, -2.2225),
        (-14.05375, -24.13, -2.2225),
        (11.2625, -21.74875, -2.2225),
        (13.64375, -19.3675, -2.2225),
        (16.025, -21.74875, -2.2225),
    ]]
    draft(draft1_faces, Plane(origin=(-31.52175, -36.67125, -4.445), x_dir=(-1, 0, 0), z_dir=(0, 0, -1)), DRAFT1_ANGLE)

    # Draft2
    draft2_faces = [part.faces().sort_by_distance(p)[0] for p in [
        (7.14375, -43.18, -2.216310494),
    ]]
    draft(draft2_faces, Plane(origin=(-31.52175, -36.67125, -4.445), x_dir=(-1, 0, 0), z_dir=(0, 0, -1)), DRAFT2_ANGLE)

    # Draft3
    draft3_faces = [part.faces().sort_by_distance(p)[0] for p in [
        (32.54375, -2.54, -2.2225),
        (34.925, -4.92125, -2.2225),
        (32.54375, -7.3025, -2.2225),
        (30.1625, -4.92125, -2.2225),
        (-36.98875, -7.3025, -2.2225),
        (-39.37, -4.92125, -2.2225),
        (-36.98875, -2.54, -2.2225),
        (-34.6075, -4.92125, -2.2225),
    ]]
    draft(draft3_faces, Plane(origin=(-31.52175, -36.67125, -4.445), x_dir=(-1, 0, 0), z_dir=(0, 0, -1)), DRAFT3_ANGLE)


solid = part.part
